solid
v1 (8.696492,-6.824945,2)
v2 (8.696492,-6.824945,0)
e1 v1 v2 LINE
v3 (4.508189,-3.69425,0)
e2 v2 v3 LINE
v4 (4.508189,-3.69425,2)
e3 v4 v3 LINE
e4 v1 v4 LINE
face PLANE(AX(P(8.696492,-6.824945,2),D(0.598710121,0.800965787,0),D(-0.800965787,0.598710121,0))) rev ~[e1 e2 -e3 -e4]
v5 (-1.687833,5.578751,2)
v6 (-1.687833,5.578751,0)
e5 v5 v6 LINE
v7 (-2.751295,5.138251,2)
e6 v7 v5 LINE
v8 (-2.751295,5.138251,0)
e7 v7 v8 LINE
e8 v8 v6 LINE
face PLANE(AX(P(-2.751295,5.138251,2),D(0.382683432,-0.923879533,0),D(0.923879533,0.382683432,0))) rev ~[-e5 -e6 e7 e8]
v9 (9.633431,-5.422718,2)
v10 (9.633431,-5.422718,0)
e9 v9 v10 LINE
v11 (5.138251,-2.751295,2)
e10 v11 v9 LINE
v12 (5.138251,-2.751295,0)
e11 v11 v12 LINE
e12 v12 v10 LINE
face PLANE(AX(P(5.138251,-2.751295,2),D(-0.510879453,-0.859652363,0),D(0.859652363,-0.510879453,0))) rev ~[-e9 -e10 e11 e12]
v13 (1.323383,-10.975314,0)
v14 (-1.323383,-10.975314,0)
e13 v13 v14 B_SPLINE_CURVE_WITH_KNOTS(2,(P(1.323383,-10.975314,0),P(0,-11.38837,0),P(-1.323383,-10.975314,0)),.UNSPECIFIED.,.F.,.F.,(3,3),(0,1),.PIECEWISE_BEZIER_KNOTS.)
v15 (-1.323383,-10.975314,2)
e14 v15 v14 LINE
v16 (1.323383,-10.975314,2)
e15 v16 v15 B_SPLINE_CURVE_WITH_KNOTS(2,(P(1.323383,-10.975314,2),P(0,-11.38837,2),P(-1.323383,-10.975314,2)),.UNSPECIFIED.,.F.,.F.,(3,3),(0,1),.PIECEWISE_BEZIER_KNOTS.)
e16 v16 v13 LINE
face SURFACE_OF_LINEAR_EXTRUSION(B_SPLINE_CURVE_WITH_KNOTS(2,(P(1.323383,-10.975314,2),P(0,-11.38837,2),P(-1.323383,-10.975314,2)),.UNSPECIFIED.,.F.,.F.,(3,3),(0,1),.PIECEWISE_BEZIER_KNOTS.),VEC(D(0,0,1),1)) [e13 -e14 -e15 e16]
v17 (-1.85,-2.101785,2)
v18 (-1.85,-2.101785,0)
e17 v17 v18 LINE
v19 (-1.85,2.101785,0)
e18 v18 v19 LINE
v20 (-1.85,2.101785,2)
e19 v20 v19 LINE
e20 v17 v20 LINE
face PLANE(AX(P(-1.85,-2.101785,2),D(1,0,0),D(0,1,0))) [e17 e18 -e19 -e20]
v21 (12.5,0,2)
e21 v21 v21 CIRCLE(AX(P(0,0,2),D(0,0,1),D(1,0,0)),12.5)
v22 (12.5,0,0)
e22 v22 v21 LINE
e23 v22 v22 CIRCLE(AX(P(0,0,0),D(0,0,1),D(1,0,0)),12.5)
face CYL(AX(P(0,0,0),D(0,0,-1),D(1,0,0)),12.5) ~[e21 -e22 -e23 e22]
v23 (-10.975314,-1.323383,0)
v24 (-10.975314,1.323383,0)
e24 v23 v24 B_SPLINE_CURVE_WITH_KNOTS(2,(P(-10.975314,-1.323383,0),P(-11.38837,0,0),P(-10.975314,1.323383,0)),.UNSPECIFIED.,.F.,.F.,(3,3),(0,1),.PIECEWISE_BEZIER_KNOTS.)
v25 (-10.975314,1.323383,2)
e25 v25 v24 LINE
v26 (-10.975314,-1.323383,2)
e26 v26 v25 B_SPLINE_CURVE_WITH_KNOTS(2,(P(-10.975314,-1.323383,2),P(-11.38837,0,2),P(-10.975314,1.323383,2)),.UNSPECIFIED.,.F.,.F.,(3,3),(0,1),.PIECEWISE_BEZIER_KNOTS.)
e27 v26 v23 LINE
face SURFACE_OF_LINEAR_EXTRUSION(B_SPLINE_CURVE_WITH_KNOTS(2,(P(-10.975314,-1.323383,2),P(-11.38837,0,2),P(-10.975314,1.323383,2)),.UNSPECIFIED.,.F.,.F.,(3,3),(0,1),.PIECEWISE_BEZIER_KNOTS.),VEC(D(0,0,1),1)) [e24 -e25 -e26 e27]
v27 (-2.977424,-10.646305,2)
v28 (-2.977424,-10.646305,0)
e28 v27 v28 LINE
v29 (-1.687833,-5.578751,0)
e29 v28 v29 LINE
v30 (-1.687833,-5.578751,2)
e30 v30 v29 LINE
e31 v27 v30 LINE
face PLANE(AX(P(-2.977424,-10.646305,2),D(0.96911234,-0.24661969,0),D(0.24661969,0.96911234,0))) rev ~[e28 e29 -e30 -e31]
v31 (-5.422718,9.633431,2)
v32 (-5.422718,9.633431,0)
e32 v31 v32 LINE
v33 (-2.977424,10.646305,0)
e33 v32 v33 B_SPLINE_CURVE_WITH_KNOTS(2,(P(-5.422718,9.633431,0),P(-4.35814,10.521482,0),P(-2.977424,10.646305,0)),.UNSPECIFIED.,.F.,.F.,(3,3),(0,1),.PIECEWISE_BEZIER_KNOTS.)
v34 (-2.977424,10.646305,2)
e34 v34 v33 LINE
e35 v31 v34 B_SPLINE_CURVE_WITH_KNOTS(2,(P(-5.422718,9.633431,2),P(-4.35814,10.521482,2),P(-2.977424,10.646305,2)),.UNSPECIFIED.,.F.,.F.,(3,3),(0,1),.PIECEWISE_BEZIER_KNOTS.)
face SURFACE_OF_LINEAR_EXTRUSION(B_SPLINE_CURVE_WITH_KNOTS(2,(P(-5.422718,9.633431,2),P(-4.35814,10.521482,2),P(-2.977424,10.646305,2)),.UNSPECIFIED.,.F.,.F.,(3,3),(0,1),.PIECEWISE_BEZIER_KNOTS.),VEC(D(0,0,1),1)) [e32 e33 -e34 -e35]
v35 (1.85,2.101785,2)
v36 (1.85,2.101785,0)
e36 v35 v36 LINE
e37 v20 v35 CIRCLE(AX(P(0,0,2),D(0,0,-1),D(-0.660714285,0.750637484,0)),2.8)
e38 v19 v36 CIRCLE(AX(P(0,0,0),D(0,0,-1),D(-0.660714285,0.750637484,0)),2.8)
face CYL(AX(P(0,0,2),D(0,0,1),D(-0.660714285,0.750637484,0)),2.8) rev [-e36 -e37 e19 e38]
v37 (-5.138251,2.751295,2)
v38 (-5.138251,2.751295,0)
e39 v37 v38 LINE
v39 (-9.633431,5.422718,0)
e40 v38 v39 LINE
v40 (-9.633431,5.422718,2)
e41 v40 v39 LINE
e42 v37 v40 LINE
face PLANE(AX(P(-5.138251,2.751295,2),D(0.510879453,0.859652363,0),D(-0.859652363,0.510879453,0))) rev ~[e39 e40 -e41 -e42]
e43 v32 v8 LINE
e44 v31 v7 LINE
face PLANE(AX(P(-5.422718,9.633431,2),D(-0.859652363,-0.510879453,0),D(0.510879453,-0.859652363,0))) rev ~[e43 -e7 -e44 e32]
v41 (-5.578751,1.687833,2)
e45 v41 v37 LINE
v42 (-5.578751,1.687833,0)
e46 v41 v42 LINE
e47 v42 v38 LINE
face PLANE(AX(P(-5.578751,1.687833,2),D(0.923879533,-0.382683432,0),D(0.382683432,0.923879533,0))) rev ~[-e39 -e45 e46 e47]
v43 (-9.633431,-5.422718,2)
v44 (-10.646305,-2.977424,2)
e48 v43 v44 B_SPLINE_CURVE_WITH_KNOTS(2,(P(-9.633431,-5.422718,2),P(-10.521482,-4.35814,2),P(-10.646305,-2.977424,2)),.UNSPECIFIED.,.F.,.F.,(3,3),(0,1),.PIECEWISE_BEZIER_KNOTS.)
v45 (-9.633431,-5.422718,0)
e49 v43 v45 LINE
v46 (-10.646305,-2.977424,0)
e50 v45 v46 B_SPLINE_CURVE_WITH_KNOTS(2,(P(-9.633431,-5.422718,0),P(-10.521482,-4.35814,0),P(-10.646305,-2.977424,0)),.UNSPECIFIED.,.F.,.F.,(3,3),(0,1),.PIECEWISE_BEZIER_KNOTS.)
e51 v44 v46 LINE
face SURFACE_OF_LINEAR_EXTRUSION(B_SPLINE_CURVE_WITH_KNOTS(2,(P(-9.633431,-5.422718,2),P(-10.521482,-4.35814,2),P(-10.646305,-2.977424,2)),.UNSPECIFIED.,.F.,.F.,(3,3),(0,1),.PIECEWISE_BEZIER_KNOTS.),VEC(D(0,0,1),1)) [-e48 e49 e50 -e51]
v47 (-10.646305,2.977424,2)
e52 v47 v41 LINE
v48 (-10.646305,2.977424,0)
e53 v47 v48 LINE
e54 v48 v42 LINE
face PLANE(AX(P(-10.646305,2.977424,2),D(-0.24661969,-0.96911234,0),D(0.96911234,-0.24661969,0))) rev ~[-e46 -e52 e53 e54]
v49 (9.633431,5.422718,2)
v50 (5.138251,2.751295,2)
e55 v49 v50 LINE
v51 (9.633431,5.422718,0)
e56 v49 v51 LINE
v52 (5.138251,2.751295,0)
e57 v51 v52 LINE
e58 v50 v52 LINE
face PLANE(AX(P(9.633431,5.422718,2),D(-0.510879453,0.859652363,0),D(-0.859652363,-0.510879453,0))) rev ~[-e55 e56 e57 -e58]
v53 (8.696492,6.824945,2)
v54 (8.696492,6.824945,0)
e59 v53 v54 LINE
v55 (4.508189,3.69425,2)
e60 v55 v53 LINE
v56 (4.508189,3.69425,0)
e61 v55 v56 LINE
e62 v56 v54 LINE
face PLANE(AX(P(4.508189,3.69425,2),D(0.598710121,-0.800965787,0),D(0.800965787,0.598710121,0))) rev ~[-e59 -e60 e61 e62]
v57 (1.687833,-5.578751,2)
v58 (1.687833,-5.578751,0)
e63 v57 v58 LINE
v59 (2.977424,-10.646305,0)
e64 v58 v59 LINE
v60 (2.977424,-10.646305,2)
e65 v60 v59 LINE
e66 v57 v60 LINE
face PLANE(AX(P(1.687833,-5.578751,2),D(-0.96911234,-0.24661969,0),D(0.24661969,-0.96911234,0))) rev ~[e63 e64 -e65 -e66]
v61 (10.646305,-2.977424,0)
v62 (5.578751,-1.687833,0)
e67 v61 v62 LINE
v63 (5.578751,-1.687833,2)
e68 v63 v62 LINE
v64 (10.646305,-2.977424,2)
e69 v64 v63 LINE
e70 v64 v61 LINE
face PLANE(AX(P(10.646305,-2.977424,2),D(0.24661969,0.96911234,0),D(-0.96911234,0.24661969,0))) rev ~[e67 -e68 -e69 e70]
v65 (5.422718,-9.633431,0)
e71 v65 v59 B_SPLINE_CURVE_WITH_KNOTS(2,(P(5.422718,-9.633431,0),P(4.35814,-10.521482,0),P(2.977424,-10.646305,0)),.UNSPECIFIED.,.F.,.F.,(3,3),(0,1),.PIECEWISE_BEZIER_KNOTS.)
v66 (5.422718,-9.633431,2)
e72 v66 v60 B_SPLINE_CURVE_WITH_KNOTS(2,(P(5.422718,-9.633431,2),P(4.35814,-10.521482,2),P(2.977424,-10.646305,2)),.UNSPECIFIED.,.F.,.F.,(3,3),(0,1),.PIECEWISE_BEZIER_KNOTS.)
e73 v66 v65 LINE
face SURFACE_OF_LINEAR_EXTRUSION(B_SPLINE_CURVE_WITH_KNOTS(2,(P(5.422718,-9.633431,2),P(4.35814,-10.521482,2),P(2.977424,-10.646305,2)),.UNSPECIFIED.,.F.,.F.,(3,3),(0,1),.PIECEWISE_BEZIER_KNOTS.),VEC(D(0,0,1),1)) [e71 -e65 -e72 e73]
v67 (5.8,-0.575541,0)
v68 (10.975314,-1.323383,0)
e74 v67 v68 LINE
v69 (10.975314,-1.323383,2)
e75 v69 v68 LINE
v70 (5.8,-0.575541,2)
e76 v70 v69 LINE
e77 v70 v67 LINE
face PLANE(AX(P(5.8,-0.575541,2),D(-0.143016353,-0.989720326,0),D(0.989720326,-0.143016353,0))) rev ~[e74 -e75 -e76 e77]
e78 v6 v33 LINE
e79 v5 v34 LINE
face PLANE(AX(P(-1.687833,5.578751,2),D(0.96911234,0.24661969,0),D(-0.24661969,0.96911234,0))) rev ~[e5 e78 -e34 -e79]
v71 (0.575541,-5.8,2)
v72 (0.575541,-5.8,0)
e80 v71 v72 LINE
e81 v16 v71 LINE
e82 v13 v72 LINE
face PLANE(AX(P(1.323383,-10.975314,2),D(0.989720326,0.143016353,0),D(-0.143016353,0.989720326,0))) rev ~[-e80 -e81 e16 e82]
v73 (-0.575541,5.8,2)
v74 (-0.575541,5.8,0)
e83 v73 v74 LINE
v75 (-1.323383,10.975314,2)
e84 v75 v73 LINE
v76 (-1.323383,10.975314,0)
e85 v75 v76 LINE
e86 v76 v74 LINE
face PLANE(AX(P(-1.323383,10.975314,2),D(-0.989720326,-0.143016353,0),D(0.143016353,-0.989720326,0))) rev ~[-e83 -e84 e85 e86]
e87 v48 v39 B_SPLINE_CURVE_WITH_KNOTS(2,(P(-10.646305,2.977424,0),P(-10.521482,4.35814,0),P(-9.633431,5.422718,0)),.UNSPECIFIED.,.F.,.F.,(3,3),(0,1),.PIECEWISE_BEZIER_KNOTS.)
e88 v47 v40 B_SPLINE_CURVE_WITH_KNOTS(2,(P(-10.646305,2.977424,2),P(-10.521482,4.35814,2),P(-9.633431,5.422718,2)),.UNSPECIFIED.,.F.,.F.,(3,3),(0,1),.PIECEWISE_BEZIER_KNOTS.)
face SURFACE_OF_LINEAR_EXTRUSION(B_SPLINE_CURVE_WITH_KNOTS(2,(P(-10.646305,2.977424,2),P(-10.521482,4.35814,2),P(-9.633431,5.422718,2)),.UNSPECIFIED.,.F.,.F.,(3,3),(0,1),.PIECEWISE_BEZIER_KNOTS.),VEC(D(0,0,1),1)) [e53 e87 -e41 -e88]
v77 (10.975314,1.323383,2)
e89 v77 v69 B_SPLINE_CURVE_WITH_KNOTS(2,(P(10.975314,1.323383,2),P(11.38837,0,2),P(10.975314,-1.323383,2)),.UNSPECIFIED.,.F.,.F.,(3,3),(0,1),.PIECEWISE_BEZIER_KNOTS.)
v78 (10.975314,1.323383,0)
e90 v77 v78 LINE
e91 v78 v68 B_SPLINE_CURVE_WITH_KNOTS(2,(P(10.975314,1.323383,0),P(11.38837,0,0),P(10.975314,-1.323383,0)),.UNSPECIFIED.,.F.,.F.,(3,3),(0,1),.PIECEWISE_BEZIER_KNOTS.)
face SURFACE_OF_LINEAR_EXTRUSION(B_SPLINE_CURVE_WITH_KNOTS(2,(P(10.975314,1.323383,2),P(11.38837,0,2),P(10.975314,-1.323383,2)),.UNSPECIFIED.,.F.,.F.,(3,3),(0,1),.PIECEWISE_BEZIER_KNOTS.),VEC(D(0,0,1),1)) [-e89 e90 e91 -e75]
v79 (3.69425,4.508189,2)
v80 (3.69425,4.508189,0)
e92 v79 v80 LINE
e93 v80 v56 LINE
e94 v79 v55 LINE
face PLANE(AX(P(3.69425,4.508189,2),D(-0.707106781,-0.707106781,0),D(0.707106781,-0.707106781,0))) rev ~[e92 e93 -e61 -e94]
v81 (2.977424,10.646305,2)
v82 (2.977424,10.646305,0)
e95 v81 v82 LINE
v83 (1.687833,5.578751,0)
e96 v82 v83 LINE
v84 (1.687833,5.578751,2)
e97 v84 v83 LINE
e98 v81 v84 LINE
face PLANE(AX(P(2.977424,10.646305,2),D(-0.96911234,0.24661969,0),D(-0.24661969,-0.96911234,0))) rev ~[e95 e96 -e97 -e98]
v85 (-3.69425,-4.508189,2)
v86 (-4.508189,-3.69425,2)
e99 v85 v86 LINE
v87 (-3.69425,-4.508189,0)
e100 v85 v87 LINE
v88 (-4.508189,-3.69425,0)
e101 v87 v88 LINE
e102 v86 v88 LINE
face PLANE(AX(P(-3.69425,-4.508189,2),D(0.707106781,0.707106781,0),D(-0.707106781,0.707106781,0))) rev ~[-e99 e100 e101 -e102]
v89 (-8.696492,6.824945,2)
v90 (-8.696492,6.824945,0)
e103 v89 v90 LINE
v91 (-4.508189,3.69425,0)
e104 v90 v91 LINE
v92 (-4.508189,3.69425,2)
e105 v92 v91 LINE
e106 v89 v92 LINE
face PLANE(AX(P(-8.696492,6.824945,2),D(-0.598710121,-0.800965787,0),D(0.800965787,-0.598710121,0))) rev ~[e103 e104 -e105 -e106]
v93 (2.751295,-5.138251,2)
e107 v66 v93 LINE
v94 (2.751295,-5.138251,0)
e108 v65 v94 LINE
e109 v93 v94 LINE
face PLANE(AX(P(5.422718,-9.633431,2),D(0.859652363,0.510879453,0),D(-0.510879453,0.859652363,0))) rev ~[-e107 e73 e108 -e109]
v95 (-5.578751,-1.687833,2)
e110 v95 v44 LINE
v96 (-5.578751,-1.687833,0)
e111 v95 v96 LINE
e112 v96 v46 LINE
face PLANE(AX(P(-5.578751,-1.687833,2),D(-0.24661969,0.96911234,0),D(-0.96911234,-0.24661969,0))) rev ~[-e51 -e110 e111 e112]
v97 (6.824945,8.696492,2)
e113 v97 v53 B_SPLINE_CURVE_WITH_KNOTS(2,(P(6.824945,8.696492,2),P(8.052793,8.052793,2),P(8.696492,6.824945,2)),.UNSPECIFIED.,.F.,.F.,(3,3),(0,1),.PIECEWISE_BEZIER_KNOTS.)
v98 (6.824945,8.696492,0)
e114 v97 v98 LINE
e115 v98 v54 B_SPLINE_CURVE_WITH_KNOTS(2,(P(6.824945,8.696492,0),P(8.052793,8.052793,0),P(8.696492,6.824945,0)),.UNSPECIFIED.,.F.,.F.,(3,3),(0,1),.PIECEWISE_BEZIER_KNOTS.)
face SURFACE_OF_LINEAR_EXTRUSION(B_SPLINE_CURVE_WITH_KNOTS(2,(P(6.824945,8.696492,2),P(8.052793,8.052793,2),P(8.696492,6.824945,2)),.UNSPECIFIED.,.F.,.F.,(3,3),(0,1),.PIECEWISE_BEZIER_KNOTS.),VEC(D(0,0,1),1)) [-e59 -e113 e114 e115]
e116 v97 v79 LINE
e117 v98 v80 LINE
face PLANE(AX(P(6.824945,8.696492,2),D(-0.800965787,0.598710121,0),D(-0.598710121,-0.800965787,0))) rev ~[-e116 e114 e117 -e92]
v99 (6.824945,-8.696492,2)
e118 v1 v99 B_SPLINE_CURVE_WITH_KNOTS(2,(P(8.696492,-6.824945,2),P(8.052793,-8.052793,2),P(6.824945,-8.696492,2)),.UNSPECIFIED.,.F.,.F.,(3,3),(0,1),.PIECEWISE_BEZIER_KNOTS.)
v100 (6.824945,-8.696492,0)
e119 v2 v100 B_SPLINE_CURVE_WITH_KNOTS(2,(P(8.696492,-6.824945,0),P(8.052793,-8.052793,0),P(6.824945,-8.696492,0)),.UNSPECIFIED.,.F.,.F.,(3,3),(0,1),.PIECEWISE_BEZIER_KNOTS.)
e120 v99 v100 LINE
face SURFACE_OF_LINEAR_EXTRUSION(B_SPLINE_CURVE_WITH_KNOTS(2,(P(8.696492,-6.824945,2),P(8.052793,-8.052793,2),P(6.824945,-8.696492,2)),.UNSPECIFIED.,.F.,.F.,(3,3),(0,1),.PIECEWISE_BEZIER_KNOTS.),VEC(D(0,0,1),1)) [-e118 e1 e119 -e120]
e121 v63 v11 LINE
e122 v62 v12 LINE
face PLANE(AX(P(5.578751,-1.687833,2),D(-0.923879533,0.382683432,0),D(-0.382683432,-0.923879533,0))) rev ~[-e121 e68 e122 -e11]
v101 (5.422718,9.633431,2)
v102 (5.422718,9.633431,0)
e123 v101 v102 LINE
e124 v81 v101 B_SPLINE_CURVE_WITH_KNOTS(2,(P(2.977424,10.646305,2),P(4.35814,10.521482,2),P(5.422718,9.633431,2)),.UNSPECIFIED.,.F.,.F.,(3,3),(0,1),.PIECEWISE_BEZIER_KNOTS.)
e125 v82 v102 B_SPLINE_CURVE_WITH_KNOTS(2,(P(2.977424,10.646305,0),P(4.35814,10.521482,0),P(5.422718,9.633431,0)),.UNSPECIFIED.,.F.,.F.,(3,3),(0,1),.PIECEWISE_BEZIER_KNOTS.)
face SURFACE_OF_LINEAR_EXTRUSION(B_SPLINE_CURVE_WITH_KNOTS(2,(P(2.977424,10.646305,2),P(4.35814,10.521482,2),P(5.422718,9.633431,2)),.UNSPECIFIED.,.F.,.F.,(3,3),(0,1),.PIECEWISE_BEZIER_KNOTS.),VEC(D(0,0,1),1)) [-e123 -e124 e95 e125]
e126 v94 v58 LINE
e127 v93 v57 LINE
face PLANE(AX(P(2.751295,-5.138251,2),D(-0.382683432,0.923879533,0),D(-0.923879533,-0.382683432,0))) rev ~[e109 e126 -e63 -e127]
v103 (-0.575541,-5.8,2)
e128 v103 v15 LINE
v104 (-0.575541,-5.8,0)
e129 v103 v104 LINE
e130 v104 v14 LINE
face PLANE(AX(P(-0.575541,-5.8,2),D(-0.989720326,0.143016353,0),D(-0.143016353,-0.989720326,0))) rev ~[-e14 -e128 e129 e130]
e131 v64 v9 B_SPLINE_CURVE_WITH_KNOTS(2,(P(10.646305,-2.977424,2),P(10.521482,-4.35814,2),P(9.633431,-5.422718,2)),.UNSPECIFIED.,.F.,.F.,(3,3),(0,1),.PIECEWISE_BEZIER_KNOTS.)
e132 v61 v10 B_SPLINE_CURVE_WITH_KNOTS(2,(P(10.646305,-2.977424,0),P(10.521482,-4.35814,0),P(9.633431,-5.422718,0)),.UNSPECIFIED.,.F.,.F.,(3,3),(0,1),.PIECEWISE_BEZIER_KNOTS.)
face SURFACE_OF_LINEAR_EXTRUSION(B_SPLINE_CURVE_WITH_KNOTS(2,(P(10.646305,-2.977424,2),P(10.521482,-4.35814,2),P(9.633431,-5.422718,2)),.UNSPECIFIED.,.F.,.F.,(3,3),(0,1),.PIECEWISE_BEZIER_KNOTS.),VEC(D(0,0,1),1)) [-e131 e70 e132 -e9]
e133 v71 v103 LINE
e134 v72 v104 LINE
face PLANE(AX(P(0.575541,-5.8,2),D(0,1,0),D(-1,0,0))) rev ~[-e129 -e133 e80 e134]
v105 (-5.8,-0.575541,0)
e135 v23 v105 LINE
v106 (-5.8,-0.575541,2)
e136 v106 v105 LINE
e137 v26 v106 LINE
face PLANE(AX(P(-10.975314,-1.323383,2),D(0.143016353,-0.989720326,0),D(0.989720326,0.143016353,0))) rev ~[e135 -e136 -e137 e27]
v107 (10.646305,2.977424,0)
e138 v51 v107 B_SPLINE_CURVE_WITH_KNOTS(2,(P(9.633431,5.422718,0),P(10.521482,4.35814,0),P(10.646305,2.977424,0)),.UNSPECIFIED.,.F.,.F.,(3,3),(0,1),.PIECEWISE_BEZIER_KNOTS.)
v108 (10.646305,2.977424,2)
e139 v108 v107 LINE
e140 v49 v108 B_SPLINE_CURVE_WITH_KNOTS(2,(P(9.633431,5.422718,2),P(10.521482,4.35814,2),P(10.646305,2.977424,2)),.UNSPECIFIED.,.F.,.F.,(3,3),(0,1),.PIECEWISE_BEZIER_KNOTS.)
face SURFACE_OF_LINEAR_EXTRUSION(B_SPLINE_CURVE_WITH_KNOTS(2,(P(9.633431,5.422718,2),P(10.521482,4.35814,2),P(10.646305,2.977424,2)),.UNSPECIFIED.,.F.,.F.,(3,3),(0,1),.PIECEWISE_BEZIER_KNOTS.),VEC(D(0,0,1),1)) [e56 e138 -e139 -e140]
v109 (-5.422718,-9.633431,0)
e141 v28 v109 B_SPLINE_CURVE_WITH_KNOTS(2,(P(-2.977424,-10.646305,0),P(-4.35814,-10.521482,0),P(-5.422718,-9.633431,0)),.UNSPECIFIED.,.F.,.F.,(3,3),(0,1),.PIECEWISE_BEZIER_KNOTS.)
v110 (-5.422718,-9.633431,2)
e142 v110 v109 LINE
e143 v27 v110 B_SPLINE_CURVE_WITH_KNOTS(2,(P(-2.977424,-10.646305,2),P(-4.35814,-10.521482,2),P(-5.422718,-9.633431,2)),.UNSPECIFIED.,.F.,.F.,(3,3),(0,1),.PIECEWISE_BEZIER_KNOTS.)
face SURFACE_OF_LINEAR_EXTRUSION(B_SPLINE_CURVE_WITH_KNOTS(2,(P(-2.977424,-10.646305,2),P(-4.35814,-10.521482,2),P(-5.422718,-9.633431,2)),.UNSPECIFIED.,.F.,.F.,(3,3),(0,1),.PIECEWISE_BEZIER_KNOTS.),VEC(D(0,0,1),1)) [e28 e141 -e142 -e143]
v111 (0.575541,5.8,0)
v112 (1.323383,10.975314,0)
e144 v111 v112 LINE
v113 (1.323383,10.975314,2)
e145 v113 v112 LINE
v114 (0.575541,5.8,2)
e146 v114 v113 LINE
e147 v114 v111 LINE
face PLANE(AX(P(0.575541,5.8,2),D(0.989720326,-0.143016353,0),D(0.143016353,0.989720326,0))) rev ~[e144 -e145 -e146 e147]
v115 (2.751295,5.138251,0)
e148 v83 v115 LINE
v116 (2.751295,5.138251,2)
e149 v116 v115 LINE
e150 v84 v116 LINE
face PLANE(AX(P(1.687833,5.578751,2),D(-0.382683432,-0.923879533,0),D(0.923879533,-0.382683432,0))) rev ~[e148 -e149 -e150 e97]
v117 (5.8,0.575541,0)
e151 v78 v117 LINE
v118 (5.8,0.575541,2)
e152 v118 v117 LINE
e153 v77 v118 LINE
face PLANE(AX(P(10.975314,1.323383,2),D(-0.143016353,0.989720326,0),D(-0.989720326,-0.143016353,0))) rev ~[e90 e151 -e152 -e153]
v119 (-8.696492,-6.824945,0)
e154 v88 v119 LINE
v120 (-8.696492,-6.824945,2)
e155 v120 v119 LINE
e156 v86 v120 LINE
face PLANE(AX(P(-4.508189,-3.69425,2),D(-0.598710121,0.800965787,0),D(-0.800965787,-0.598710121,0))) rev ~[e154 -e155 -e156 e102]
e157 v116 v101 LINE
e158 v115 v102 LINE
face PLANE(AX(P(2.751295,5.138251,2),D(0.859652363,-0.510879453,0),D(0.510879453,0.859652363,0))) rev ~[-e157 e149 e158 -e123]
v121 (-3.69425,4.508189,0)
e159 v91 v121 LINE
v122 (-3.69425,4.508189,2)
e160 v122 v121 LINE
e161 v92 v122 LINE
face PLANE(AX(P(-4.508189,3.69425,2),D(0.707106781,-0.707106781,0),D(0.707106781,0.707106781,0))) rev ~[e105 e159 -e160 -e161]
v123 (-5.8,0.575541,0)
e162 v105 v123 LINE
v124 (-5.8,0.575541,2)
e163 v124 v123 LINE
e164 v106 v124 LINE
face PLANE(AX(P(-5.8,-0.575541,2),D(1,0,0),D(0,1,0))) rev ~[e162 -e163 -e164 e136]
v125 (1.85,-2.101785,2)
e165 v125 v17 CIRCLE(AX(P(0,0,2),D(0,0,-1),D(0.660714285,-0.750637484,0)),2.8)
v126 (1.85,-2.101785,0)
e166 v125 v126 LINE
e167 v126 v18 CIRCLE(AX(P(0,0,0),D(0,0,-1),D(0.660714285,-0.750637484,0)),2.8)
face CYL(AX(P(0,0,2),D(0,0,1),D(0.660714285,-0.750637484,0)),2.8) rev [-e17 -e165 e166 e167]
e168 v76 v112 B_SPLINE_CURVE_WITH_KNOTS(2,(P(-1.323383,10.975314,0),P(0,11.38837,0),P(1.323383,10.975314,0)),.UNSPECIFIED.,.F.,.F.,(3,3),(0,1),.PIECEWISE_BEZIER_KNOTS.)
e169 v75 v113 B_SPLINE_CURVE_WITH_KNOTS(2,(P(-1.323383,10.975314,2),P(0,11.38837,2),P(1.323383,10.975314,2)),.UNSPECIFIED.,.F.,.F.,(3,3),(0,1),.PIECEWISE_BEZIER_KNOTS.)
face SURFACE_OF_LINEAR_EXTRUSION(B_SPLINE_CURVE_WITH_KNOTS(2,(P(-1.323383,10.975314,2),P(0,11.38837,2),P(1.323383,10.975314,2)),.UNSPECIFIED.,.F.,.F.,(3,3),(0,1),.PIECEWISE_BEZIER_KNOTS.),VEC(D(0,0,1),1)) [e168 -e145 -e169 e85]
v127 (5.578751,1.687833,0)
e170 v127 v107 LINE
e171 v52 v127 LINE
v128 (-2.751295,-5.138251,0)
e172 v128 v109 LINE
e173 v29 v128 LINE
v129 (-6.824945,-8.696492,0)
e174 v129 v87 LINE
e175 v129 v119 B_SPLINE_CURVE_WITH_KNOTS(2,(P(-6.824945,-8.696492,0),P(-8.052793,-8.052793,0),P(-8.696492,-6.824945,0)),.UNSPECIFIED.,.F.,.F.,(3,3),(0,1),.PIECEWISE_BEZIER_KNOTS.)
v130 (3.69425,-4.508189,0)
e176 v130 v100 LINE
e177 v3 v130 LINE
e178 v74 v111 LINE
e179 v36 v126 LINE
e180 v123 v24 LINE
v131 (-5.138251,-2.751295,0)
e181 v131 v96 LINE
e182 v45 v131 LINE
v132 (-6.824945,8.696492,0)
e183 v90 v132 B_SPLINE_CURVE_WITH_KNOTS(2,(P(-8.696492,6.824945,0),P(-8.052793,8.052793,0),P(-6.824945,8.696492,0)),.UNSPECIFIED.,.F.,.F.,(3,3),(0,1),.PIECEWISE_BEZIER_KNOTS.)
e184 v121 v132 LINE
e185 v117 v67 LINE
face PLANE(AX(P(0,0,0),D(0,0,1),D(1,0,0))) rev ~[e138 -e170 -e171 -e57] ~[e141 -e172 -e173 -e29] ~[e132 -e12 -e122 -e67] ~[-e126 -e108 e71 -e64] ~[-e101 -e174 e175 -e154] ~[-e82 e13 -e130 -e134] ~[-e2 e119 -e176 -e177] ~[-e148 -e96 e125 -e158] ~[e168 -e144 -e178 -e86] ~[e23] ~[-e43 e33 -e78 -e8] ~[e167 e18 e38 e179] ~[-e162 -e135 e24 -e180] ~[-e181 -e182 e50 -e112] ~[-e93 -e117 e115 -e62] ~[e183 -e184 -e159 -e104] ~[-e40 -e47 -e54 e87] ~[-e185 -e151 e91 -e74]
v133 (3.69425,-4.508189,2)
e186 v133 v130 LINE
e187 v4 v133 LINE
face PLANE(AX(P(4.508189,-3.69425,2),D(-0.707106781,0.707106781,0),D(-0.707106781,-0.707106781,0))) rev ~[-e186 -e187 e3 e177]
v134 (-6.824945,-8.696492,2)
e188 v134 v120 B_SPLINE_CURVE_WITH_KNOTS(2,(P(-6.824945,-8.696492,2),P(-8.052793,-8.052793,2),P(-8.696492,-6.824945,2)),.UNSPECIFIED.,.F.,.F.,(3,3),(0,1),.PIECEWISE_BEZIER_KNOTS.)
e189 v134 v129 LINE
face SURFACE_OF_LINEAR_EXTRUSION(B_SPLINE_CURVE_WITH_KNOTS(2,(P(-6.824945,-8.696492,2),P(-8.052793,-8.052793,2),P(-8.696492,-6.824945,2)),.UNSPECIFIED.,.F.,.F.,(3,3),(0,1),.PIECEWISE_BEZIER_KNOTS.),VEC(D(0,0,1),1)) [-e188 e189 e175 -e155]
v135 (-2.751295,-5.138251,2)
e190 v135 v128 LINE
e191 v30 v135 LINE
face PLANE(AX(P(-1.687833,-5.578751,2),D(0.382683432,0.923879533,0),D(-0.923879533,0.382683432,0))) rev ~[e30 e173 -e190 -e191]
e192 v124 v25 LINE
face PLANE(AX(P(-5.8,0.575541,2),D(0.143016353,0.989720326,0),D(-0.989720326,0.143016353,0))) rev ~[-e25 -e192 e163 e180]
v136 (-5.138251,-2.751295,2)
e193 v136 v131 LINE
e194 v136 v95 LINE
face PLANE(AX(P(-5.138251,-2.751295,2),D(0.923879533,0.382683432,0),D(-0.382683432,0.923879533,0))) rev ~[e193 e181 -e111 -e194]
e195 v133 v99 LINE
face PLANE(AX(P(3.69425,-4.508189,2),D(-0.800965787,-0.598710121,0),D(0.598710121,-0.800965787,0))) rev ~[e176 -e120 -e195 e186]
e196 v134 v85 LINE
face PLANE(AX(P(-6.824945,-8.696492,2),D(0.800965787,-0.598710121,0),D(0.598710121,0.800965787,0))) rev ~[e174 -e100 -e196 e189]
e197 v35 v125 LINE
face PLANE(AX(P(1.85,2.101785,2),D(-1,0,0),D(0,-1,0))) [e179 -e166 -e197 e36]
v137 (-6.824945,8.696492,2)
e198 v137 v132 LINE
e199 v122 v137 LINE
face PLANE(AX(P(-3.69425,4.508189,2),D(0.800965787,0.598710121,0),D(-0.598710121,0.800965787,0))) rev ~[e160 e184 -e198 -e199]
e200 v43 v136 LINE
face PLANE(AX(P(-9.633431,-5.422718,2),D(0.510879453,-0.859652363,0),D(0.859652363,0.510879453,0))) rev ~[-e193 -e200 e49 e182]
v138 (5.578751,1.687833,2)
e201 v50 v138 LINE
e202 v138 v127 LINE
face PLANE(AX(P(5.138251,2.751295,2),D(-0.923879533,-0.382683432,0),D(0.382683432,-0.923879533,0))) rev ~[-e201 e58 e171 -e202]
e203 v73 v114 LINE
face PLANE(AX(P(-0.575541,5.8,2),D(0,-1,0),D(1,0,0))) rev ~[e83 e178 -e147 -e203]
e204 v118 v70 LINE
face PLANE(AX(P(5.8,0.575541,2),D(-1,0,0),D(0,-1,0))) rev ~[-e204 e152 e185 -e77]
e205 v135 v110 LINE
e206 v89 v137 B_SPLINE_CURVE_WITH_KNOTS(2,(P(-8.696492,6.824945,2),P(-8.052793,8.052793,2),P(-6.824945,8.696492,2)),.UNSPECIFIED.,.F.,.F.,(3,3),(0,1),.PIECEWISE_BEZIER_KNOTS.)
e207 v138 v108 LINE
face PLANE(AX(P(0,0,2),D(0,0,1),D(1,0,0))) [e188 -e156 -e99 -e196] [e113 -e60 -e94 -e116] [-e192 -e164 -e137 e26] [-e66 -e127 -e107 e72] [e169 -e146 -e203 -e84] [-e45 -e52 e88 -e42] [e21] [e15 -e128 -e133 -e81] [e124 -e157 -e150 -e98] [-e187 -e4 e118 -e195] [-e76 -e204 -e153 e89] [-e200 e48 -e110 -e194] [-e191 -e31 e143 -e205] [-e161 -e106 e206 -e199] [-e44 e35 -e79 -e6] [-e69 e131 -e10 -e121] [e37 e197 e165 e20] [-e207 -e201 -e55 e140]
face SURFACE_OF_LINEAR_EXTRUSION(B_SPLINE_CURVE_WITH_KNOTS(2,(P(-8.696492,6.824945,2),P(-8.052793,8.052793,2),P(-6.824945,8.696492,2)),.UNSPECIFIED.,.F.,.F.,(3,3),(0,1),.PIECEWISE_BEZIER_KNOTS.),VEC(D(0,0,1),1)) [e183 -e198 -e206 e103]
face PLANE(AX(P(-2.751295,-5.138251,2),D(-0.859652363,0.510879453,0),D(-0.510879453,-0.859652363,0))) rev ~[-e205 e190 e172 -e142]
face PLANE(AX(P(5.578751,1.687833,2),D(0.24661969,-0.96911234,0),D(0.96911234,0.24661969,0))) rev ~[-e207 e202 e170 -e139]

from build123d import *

# Parameters (mm, degrees)
SKETCH1_R           = 12.5
BOSS_EXTRUDE1_DEPTH = 2
CUT_EXTRUDE1_DEPTH  = 2
CUT_EXTRUDE2_DEPTH  = 2


with BuildPart() as part:
    # Sketch1 → Boss-Extrude1 (new body)
    with BuildSketch(Plane.XY):
        Circle(SKETCH1_R)
    extrude(amount=BOSS_EXTRUDE1_DEPTH)

    # Sketch2 → Cut-Extrude1 (cut)
    with BuildSketch(Plane.XY.offset(2)):
        with BuildLine():
            Line((1.85, 2.101784956), (1.85, -2.101784956))
            ThreePointArc((1.85, -2.101784956), (0, -2.8), (-1.85, -2.101784956))
            Line((-1.85, -2.101784956), (-1.85, 2.101784956))
            ThreePointArc((-1.85, 2.101784956), (0, 2.8), (1.85, 2.101784956))
        make_face()
    extrude(amount=-CUT_EXTRUDE1_DEPTH, mode=Mode.SUBTRACT)

    # Sketch3 → Cut-Extrude2 (cut)
    with BuildSketch(Plane.XY.offset(2)):
        with BuildLine():
            Line((-0.575541349, 5.8), (0.575541349, 5.8))
            Line((0.575541349, 5.8), (1.323383427, 10.975313802))
            add(Edge.make_bspline(
                [(-1.323383427, 10.975313802), (0, 11.388369724), (1.323383427, 10.975313802)],
                knots=[0, 0, 0, 1, 1, 1], degree=2))
            Line((-1.323383427, 10.975313802), (-0.575541349, 5.8))
        make_face()
        with BuildLine():
            Line((2.75129478, 5.13825115), (5.422717619, 9.633430872))
            add(Edge.make_bspline(
                [(2.977423895, 10.646304697), (4.358140415, 10.521481696), (5.422717619, 9.633430872)],
                knots=[0, 0, 0, 1, 1, 1], degree=2))
            Line((2.977423895, 10.646304697), (1.687833035, 5.578751427))
            Line((1.687833035, 5.578751427), (2.75129478, 5.13825115))
        make_face()
        with BuildLine():
            Line((4.508188522, 3.69425014), (8.69649221, 6.82494542))
            add(Edge.make_bspline(
                [(6.82494542, 8.69649221), (8.052793458, 8.052793458), (8.69649221, 6.82494542)],
                knots=[0, 0, 0, 1, 1, 1], degree=2))
            Line((6.82494542, 8.69649221), (3.69425014, 4.508188522))
            Line((3.69425014, 4.508188522), (4.508188522, 3.69425014))
        make_face()
        with BuildLine():
            Line((5.578751427, 1.687833035), (10.646304697, 2.977423895))
            add(Edge.make_bspline(
                [(9.633430872, 5.422717619), (10.521481696, 4.358140415), (10.646304697, 2.977423895)],
                knots=[0, 0, 0, 1, 1, 1], degree=2))
            Line((9.633430872, 5.422717619), (5.13825115, 2.75129478))
            Line((5.13825115, 2.75129478), (5.578751427, 1.687833035))
        make_face()
        with BuildLine():
            Line((5.8, -0.575541349), (10.975313802, -1.323383427))
            add(Edge.make_bspline(
                [(10.975313802, 1.323383427), (11.388369724, 0), (10.975313802, -1.323383427)],
                knots=[0, 0, 0, 1, 1, 1], degree=2))
            Line((10.975313802, 1.323383427), (5.8, 0.575541349))
            Line((5.8, 0.575541349), (5.8, -0.575541349))
        make_face()
        with BuildLine():
            Line((5.13825115, -2.75129478), (9.633430872, -5.422717619))
            add(Edge.make_bspline(
                [(10.646304697, -2.977423895), (10.521481696, -4.358140415), (9.633430872, -5.422717619)],
                knots=[0, 0, 0, 1, 1, 1], degree=2))
            Line((10.646304697, -2.977423895), (5.578751427, -1.687833035))
            Line((5.578751427, -1.687833035), (5.13825115, -2.75129478))
        make_face()
        with BuildLine():
            Line((3.69425014, -4.508188522), (6.82494542, -8.69649221))
            add(Edge.make_bspline(
                [(8.69649221, -6.82494542), (8.052793458, -8.052793458), (6.82494542, -8.69649221)],
                knots=[0, 0, 0, 1, 1, 1], degree=2))
            Line((8.69649221, -6.82494542), (4.508188522, -3.69425014))
            Line((4.508188522, -3.69425014), (3.69425014, -4.508188522))
        make_face()
        with BuildLine():
            Line((1.687833035, -5.578751427), (2.977423895, -10.646304697))
            add(Edge.make_bspline(
                [(5.422717619, -9.633430872), (4.358140415, -10.521481696), (2.977423895, -10.646304697)],
                knots=[0, 0, 0, 1, 1, 1], degree=2))
            Line((5.422717619, -9.633430872), (2.75129478, -5.13825115))
            Line((2.75129478, -5.13825115), (1.687833035, -5.578751427))
        make_face()
        with BuildLine():
            Line((-0.575541349, -5.8), (-1.323383427, -10.975313802))
            add(Edge.make_bspline(
                [(1.323383427, -10.975313802), (0, -11.388369724), (-1.323383427, -10.975313802)],
                knots=[0, 0, 0, 1, 1, 1], degree=2))
            Line((1.323383427, -10.975313802), (0.575541349, -5.8))
            Line((0.575541349, -5.8), (-0.575541349, -5.8))
        make_face()
        with BuildLine():
            Line((-2.75129478, -5.13825115), (-5.422717619, -9.633430872))
            add(Edge.make_bspline(
                [(-2.977423895, -10.646304697), (-4.358140415, -10.521481696), (-5.422717619, -9.633430872)],
                knots=[0, 0, 0, 1, 1, 1], degree=2))
            Line((-2.977423895, -10.646304697), (-1.687833035, -5.578751427))
            Line((-1.687833035, -5.578751427), (-2.75129478, -5.13825115))
        make_face()
        with BuildLine():
            Line((-4.508188522, -3.69425014), (-8.69649221, -6.82494542))
            add(Edge.make_bspline(
                [(-6.82494542, -8.69649221), (-8.052793458, -8.052793458), (-8.69649221, -6.82494542)],
                knots=[0, 0, 0, 1, 1, 1], degree=2))
            Line((-6.82494542, -8.69649221), (-3.69425014, -4.508188522))
            Line((-3.69425014, -4.508188522), (-4.508188522, -3.69425014))
        make_face()
        with BuildLine():
            Line((-5.578751427, -1.687833035), (-10.646304697, -2.977423895))
            add(Edge.make_bspline(
                [(-9.633430872, -5.422717619), (-10.521481696, -4.358140415), (-10.646304697, -2.977423895)],
                knots=[0, 0, 0, 1, 1, 1], degree=2))
            Line((-9.633430872, -5.422717619), (-5.13825115, -2.75129478))
            Line((-5.13825115, -2.75129478), (-5.578751427, -1.687833035))
        make_face()
        with BuildLine():
            Line((-5.8, 0.575541349), (-10.975313802, 1.323383427))
            add(Edge.make_bspline(
                [(-10.975313802, -1.323383427), (-11.388369724, 0), (-10.975313802, 1.323383427)],
                knots=[0, 0, 0, 1, 1, 1], degree=2))
            Line((-10.975313802, -1.323383427), (-5.8, -0.575541349))
            Line((-5.8, -0.575541349), (-5.8, 0.575541349))
        make_face()
        with BuildLine():
            Line((-5.13825115, 2.75129478), (-9.633430872, 5.422717619))
            add(Edge.make_bspline(
                [(-10.646304697, 2.977423895), (-10.521481696, 4.358140415), (-9.633430872, 5.422717619)],
                knots=[0, 0, 0, 1, 1, 1], degree=2))
            Line((-10.646304697, 2.977423895), (-5.578751427, 1.687833035))
            Line((-5.578751427, 1.687833035), (-5.13825115, 2.75129478))
        make_face()
        with BuildLine():
            Line((-3.69425014, 4.508188522), (-6.82494542, 8.69649221))
            add(Edge.make_bspline(
                [(-8.69649221, 6.82494542), (-8.052793458, 8.052793458), (-6.82494542, 8.69649221)],
                knots=[0, 0, 0, 1, 1, 1], degree=2))
            Line((-8.69649221, 6.82494542), (-4.508188522, 3.69425014))
            Line((-4.508188522, 3.69425014), (-3.69425014, 4.508188522))
        make_face()
        with BuildLine():
            Line((-1.687833035, 5.578751427), (-2.977423895, 10.646304697))
            add(Edge.make_bspline(
                [(-5.422717619, 9.633430872), (-4.358140415, 10.521481696), (-2.977423895, 10.646304697)],
                knots=[0, 0, 0, 1, 1, 1], degree=2))
            Line((-5.422717619, 9.633430872), (-2.75129478, 5.13825115))
            Line((-2.75129478, 5.13825115), (-1.687833035, 5.578751427))
        make_face()
    extrude(amount=-CUT_EXTRUDE2_DEPTH, mode=Mode.SUBTRACT)


solid = part.part
